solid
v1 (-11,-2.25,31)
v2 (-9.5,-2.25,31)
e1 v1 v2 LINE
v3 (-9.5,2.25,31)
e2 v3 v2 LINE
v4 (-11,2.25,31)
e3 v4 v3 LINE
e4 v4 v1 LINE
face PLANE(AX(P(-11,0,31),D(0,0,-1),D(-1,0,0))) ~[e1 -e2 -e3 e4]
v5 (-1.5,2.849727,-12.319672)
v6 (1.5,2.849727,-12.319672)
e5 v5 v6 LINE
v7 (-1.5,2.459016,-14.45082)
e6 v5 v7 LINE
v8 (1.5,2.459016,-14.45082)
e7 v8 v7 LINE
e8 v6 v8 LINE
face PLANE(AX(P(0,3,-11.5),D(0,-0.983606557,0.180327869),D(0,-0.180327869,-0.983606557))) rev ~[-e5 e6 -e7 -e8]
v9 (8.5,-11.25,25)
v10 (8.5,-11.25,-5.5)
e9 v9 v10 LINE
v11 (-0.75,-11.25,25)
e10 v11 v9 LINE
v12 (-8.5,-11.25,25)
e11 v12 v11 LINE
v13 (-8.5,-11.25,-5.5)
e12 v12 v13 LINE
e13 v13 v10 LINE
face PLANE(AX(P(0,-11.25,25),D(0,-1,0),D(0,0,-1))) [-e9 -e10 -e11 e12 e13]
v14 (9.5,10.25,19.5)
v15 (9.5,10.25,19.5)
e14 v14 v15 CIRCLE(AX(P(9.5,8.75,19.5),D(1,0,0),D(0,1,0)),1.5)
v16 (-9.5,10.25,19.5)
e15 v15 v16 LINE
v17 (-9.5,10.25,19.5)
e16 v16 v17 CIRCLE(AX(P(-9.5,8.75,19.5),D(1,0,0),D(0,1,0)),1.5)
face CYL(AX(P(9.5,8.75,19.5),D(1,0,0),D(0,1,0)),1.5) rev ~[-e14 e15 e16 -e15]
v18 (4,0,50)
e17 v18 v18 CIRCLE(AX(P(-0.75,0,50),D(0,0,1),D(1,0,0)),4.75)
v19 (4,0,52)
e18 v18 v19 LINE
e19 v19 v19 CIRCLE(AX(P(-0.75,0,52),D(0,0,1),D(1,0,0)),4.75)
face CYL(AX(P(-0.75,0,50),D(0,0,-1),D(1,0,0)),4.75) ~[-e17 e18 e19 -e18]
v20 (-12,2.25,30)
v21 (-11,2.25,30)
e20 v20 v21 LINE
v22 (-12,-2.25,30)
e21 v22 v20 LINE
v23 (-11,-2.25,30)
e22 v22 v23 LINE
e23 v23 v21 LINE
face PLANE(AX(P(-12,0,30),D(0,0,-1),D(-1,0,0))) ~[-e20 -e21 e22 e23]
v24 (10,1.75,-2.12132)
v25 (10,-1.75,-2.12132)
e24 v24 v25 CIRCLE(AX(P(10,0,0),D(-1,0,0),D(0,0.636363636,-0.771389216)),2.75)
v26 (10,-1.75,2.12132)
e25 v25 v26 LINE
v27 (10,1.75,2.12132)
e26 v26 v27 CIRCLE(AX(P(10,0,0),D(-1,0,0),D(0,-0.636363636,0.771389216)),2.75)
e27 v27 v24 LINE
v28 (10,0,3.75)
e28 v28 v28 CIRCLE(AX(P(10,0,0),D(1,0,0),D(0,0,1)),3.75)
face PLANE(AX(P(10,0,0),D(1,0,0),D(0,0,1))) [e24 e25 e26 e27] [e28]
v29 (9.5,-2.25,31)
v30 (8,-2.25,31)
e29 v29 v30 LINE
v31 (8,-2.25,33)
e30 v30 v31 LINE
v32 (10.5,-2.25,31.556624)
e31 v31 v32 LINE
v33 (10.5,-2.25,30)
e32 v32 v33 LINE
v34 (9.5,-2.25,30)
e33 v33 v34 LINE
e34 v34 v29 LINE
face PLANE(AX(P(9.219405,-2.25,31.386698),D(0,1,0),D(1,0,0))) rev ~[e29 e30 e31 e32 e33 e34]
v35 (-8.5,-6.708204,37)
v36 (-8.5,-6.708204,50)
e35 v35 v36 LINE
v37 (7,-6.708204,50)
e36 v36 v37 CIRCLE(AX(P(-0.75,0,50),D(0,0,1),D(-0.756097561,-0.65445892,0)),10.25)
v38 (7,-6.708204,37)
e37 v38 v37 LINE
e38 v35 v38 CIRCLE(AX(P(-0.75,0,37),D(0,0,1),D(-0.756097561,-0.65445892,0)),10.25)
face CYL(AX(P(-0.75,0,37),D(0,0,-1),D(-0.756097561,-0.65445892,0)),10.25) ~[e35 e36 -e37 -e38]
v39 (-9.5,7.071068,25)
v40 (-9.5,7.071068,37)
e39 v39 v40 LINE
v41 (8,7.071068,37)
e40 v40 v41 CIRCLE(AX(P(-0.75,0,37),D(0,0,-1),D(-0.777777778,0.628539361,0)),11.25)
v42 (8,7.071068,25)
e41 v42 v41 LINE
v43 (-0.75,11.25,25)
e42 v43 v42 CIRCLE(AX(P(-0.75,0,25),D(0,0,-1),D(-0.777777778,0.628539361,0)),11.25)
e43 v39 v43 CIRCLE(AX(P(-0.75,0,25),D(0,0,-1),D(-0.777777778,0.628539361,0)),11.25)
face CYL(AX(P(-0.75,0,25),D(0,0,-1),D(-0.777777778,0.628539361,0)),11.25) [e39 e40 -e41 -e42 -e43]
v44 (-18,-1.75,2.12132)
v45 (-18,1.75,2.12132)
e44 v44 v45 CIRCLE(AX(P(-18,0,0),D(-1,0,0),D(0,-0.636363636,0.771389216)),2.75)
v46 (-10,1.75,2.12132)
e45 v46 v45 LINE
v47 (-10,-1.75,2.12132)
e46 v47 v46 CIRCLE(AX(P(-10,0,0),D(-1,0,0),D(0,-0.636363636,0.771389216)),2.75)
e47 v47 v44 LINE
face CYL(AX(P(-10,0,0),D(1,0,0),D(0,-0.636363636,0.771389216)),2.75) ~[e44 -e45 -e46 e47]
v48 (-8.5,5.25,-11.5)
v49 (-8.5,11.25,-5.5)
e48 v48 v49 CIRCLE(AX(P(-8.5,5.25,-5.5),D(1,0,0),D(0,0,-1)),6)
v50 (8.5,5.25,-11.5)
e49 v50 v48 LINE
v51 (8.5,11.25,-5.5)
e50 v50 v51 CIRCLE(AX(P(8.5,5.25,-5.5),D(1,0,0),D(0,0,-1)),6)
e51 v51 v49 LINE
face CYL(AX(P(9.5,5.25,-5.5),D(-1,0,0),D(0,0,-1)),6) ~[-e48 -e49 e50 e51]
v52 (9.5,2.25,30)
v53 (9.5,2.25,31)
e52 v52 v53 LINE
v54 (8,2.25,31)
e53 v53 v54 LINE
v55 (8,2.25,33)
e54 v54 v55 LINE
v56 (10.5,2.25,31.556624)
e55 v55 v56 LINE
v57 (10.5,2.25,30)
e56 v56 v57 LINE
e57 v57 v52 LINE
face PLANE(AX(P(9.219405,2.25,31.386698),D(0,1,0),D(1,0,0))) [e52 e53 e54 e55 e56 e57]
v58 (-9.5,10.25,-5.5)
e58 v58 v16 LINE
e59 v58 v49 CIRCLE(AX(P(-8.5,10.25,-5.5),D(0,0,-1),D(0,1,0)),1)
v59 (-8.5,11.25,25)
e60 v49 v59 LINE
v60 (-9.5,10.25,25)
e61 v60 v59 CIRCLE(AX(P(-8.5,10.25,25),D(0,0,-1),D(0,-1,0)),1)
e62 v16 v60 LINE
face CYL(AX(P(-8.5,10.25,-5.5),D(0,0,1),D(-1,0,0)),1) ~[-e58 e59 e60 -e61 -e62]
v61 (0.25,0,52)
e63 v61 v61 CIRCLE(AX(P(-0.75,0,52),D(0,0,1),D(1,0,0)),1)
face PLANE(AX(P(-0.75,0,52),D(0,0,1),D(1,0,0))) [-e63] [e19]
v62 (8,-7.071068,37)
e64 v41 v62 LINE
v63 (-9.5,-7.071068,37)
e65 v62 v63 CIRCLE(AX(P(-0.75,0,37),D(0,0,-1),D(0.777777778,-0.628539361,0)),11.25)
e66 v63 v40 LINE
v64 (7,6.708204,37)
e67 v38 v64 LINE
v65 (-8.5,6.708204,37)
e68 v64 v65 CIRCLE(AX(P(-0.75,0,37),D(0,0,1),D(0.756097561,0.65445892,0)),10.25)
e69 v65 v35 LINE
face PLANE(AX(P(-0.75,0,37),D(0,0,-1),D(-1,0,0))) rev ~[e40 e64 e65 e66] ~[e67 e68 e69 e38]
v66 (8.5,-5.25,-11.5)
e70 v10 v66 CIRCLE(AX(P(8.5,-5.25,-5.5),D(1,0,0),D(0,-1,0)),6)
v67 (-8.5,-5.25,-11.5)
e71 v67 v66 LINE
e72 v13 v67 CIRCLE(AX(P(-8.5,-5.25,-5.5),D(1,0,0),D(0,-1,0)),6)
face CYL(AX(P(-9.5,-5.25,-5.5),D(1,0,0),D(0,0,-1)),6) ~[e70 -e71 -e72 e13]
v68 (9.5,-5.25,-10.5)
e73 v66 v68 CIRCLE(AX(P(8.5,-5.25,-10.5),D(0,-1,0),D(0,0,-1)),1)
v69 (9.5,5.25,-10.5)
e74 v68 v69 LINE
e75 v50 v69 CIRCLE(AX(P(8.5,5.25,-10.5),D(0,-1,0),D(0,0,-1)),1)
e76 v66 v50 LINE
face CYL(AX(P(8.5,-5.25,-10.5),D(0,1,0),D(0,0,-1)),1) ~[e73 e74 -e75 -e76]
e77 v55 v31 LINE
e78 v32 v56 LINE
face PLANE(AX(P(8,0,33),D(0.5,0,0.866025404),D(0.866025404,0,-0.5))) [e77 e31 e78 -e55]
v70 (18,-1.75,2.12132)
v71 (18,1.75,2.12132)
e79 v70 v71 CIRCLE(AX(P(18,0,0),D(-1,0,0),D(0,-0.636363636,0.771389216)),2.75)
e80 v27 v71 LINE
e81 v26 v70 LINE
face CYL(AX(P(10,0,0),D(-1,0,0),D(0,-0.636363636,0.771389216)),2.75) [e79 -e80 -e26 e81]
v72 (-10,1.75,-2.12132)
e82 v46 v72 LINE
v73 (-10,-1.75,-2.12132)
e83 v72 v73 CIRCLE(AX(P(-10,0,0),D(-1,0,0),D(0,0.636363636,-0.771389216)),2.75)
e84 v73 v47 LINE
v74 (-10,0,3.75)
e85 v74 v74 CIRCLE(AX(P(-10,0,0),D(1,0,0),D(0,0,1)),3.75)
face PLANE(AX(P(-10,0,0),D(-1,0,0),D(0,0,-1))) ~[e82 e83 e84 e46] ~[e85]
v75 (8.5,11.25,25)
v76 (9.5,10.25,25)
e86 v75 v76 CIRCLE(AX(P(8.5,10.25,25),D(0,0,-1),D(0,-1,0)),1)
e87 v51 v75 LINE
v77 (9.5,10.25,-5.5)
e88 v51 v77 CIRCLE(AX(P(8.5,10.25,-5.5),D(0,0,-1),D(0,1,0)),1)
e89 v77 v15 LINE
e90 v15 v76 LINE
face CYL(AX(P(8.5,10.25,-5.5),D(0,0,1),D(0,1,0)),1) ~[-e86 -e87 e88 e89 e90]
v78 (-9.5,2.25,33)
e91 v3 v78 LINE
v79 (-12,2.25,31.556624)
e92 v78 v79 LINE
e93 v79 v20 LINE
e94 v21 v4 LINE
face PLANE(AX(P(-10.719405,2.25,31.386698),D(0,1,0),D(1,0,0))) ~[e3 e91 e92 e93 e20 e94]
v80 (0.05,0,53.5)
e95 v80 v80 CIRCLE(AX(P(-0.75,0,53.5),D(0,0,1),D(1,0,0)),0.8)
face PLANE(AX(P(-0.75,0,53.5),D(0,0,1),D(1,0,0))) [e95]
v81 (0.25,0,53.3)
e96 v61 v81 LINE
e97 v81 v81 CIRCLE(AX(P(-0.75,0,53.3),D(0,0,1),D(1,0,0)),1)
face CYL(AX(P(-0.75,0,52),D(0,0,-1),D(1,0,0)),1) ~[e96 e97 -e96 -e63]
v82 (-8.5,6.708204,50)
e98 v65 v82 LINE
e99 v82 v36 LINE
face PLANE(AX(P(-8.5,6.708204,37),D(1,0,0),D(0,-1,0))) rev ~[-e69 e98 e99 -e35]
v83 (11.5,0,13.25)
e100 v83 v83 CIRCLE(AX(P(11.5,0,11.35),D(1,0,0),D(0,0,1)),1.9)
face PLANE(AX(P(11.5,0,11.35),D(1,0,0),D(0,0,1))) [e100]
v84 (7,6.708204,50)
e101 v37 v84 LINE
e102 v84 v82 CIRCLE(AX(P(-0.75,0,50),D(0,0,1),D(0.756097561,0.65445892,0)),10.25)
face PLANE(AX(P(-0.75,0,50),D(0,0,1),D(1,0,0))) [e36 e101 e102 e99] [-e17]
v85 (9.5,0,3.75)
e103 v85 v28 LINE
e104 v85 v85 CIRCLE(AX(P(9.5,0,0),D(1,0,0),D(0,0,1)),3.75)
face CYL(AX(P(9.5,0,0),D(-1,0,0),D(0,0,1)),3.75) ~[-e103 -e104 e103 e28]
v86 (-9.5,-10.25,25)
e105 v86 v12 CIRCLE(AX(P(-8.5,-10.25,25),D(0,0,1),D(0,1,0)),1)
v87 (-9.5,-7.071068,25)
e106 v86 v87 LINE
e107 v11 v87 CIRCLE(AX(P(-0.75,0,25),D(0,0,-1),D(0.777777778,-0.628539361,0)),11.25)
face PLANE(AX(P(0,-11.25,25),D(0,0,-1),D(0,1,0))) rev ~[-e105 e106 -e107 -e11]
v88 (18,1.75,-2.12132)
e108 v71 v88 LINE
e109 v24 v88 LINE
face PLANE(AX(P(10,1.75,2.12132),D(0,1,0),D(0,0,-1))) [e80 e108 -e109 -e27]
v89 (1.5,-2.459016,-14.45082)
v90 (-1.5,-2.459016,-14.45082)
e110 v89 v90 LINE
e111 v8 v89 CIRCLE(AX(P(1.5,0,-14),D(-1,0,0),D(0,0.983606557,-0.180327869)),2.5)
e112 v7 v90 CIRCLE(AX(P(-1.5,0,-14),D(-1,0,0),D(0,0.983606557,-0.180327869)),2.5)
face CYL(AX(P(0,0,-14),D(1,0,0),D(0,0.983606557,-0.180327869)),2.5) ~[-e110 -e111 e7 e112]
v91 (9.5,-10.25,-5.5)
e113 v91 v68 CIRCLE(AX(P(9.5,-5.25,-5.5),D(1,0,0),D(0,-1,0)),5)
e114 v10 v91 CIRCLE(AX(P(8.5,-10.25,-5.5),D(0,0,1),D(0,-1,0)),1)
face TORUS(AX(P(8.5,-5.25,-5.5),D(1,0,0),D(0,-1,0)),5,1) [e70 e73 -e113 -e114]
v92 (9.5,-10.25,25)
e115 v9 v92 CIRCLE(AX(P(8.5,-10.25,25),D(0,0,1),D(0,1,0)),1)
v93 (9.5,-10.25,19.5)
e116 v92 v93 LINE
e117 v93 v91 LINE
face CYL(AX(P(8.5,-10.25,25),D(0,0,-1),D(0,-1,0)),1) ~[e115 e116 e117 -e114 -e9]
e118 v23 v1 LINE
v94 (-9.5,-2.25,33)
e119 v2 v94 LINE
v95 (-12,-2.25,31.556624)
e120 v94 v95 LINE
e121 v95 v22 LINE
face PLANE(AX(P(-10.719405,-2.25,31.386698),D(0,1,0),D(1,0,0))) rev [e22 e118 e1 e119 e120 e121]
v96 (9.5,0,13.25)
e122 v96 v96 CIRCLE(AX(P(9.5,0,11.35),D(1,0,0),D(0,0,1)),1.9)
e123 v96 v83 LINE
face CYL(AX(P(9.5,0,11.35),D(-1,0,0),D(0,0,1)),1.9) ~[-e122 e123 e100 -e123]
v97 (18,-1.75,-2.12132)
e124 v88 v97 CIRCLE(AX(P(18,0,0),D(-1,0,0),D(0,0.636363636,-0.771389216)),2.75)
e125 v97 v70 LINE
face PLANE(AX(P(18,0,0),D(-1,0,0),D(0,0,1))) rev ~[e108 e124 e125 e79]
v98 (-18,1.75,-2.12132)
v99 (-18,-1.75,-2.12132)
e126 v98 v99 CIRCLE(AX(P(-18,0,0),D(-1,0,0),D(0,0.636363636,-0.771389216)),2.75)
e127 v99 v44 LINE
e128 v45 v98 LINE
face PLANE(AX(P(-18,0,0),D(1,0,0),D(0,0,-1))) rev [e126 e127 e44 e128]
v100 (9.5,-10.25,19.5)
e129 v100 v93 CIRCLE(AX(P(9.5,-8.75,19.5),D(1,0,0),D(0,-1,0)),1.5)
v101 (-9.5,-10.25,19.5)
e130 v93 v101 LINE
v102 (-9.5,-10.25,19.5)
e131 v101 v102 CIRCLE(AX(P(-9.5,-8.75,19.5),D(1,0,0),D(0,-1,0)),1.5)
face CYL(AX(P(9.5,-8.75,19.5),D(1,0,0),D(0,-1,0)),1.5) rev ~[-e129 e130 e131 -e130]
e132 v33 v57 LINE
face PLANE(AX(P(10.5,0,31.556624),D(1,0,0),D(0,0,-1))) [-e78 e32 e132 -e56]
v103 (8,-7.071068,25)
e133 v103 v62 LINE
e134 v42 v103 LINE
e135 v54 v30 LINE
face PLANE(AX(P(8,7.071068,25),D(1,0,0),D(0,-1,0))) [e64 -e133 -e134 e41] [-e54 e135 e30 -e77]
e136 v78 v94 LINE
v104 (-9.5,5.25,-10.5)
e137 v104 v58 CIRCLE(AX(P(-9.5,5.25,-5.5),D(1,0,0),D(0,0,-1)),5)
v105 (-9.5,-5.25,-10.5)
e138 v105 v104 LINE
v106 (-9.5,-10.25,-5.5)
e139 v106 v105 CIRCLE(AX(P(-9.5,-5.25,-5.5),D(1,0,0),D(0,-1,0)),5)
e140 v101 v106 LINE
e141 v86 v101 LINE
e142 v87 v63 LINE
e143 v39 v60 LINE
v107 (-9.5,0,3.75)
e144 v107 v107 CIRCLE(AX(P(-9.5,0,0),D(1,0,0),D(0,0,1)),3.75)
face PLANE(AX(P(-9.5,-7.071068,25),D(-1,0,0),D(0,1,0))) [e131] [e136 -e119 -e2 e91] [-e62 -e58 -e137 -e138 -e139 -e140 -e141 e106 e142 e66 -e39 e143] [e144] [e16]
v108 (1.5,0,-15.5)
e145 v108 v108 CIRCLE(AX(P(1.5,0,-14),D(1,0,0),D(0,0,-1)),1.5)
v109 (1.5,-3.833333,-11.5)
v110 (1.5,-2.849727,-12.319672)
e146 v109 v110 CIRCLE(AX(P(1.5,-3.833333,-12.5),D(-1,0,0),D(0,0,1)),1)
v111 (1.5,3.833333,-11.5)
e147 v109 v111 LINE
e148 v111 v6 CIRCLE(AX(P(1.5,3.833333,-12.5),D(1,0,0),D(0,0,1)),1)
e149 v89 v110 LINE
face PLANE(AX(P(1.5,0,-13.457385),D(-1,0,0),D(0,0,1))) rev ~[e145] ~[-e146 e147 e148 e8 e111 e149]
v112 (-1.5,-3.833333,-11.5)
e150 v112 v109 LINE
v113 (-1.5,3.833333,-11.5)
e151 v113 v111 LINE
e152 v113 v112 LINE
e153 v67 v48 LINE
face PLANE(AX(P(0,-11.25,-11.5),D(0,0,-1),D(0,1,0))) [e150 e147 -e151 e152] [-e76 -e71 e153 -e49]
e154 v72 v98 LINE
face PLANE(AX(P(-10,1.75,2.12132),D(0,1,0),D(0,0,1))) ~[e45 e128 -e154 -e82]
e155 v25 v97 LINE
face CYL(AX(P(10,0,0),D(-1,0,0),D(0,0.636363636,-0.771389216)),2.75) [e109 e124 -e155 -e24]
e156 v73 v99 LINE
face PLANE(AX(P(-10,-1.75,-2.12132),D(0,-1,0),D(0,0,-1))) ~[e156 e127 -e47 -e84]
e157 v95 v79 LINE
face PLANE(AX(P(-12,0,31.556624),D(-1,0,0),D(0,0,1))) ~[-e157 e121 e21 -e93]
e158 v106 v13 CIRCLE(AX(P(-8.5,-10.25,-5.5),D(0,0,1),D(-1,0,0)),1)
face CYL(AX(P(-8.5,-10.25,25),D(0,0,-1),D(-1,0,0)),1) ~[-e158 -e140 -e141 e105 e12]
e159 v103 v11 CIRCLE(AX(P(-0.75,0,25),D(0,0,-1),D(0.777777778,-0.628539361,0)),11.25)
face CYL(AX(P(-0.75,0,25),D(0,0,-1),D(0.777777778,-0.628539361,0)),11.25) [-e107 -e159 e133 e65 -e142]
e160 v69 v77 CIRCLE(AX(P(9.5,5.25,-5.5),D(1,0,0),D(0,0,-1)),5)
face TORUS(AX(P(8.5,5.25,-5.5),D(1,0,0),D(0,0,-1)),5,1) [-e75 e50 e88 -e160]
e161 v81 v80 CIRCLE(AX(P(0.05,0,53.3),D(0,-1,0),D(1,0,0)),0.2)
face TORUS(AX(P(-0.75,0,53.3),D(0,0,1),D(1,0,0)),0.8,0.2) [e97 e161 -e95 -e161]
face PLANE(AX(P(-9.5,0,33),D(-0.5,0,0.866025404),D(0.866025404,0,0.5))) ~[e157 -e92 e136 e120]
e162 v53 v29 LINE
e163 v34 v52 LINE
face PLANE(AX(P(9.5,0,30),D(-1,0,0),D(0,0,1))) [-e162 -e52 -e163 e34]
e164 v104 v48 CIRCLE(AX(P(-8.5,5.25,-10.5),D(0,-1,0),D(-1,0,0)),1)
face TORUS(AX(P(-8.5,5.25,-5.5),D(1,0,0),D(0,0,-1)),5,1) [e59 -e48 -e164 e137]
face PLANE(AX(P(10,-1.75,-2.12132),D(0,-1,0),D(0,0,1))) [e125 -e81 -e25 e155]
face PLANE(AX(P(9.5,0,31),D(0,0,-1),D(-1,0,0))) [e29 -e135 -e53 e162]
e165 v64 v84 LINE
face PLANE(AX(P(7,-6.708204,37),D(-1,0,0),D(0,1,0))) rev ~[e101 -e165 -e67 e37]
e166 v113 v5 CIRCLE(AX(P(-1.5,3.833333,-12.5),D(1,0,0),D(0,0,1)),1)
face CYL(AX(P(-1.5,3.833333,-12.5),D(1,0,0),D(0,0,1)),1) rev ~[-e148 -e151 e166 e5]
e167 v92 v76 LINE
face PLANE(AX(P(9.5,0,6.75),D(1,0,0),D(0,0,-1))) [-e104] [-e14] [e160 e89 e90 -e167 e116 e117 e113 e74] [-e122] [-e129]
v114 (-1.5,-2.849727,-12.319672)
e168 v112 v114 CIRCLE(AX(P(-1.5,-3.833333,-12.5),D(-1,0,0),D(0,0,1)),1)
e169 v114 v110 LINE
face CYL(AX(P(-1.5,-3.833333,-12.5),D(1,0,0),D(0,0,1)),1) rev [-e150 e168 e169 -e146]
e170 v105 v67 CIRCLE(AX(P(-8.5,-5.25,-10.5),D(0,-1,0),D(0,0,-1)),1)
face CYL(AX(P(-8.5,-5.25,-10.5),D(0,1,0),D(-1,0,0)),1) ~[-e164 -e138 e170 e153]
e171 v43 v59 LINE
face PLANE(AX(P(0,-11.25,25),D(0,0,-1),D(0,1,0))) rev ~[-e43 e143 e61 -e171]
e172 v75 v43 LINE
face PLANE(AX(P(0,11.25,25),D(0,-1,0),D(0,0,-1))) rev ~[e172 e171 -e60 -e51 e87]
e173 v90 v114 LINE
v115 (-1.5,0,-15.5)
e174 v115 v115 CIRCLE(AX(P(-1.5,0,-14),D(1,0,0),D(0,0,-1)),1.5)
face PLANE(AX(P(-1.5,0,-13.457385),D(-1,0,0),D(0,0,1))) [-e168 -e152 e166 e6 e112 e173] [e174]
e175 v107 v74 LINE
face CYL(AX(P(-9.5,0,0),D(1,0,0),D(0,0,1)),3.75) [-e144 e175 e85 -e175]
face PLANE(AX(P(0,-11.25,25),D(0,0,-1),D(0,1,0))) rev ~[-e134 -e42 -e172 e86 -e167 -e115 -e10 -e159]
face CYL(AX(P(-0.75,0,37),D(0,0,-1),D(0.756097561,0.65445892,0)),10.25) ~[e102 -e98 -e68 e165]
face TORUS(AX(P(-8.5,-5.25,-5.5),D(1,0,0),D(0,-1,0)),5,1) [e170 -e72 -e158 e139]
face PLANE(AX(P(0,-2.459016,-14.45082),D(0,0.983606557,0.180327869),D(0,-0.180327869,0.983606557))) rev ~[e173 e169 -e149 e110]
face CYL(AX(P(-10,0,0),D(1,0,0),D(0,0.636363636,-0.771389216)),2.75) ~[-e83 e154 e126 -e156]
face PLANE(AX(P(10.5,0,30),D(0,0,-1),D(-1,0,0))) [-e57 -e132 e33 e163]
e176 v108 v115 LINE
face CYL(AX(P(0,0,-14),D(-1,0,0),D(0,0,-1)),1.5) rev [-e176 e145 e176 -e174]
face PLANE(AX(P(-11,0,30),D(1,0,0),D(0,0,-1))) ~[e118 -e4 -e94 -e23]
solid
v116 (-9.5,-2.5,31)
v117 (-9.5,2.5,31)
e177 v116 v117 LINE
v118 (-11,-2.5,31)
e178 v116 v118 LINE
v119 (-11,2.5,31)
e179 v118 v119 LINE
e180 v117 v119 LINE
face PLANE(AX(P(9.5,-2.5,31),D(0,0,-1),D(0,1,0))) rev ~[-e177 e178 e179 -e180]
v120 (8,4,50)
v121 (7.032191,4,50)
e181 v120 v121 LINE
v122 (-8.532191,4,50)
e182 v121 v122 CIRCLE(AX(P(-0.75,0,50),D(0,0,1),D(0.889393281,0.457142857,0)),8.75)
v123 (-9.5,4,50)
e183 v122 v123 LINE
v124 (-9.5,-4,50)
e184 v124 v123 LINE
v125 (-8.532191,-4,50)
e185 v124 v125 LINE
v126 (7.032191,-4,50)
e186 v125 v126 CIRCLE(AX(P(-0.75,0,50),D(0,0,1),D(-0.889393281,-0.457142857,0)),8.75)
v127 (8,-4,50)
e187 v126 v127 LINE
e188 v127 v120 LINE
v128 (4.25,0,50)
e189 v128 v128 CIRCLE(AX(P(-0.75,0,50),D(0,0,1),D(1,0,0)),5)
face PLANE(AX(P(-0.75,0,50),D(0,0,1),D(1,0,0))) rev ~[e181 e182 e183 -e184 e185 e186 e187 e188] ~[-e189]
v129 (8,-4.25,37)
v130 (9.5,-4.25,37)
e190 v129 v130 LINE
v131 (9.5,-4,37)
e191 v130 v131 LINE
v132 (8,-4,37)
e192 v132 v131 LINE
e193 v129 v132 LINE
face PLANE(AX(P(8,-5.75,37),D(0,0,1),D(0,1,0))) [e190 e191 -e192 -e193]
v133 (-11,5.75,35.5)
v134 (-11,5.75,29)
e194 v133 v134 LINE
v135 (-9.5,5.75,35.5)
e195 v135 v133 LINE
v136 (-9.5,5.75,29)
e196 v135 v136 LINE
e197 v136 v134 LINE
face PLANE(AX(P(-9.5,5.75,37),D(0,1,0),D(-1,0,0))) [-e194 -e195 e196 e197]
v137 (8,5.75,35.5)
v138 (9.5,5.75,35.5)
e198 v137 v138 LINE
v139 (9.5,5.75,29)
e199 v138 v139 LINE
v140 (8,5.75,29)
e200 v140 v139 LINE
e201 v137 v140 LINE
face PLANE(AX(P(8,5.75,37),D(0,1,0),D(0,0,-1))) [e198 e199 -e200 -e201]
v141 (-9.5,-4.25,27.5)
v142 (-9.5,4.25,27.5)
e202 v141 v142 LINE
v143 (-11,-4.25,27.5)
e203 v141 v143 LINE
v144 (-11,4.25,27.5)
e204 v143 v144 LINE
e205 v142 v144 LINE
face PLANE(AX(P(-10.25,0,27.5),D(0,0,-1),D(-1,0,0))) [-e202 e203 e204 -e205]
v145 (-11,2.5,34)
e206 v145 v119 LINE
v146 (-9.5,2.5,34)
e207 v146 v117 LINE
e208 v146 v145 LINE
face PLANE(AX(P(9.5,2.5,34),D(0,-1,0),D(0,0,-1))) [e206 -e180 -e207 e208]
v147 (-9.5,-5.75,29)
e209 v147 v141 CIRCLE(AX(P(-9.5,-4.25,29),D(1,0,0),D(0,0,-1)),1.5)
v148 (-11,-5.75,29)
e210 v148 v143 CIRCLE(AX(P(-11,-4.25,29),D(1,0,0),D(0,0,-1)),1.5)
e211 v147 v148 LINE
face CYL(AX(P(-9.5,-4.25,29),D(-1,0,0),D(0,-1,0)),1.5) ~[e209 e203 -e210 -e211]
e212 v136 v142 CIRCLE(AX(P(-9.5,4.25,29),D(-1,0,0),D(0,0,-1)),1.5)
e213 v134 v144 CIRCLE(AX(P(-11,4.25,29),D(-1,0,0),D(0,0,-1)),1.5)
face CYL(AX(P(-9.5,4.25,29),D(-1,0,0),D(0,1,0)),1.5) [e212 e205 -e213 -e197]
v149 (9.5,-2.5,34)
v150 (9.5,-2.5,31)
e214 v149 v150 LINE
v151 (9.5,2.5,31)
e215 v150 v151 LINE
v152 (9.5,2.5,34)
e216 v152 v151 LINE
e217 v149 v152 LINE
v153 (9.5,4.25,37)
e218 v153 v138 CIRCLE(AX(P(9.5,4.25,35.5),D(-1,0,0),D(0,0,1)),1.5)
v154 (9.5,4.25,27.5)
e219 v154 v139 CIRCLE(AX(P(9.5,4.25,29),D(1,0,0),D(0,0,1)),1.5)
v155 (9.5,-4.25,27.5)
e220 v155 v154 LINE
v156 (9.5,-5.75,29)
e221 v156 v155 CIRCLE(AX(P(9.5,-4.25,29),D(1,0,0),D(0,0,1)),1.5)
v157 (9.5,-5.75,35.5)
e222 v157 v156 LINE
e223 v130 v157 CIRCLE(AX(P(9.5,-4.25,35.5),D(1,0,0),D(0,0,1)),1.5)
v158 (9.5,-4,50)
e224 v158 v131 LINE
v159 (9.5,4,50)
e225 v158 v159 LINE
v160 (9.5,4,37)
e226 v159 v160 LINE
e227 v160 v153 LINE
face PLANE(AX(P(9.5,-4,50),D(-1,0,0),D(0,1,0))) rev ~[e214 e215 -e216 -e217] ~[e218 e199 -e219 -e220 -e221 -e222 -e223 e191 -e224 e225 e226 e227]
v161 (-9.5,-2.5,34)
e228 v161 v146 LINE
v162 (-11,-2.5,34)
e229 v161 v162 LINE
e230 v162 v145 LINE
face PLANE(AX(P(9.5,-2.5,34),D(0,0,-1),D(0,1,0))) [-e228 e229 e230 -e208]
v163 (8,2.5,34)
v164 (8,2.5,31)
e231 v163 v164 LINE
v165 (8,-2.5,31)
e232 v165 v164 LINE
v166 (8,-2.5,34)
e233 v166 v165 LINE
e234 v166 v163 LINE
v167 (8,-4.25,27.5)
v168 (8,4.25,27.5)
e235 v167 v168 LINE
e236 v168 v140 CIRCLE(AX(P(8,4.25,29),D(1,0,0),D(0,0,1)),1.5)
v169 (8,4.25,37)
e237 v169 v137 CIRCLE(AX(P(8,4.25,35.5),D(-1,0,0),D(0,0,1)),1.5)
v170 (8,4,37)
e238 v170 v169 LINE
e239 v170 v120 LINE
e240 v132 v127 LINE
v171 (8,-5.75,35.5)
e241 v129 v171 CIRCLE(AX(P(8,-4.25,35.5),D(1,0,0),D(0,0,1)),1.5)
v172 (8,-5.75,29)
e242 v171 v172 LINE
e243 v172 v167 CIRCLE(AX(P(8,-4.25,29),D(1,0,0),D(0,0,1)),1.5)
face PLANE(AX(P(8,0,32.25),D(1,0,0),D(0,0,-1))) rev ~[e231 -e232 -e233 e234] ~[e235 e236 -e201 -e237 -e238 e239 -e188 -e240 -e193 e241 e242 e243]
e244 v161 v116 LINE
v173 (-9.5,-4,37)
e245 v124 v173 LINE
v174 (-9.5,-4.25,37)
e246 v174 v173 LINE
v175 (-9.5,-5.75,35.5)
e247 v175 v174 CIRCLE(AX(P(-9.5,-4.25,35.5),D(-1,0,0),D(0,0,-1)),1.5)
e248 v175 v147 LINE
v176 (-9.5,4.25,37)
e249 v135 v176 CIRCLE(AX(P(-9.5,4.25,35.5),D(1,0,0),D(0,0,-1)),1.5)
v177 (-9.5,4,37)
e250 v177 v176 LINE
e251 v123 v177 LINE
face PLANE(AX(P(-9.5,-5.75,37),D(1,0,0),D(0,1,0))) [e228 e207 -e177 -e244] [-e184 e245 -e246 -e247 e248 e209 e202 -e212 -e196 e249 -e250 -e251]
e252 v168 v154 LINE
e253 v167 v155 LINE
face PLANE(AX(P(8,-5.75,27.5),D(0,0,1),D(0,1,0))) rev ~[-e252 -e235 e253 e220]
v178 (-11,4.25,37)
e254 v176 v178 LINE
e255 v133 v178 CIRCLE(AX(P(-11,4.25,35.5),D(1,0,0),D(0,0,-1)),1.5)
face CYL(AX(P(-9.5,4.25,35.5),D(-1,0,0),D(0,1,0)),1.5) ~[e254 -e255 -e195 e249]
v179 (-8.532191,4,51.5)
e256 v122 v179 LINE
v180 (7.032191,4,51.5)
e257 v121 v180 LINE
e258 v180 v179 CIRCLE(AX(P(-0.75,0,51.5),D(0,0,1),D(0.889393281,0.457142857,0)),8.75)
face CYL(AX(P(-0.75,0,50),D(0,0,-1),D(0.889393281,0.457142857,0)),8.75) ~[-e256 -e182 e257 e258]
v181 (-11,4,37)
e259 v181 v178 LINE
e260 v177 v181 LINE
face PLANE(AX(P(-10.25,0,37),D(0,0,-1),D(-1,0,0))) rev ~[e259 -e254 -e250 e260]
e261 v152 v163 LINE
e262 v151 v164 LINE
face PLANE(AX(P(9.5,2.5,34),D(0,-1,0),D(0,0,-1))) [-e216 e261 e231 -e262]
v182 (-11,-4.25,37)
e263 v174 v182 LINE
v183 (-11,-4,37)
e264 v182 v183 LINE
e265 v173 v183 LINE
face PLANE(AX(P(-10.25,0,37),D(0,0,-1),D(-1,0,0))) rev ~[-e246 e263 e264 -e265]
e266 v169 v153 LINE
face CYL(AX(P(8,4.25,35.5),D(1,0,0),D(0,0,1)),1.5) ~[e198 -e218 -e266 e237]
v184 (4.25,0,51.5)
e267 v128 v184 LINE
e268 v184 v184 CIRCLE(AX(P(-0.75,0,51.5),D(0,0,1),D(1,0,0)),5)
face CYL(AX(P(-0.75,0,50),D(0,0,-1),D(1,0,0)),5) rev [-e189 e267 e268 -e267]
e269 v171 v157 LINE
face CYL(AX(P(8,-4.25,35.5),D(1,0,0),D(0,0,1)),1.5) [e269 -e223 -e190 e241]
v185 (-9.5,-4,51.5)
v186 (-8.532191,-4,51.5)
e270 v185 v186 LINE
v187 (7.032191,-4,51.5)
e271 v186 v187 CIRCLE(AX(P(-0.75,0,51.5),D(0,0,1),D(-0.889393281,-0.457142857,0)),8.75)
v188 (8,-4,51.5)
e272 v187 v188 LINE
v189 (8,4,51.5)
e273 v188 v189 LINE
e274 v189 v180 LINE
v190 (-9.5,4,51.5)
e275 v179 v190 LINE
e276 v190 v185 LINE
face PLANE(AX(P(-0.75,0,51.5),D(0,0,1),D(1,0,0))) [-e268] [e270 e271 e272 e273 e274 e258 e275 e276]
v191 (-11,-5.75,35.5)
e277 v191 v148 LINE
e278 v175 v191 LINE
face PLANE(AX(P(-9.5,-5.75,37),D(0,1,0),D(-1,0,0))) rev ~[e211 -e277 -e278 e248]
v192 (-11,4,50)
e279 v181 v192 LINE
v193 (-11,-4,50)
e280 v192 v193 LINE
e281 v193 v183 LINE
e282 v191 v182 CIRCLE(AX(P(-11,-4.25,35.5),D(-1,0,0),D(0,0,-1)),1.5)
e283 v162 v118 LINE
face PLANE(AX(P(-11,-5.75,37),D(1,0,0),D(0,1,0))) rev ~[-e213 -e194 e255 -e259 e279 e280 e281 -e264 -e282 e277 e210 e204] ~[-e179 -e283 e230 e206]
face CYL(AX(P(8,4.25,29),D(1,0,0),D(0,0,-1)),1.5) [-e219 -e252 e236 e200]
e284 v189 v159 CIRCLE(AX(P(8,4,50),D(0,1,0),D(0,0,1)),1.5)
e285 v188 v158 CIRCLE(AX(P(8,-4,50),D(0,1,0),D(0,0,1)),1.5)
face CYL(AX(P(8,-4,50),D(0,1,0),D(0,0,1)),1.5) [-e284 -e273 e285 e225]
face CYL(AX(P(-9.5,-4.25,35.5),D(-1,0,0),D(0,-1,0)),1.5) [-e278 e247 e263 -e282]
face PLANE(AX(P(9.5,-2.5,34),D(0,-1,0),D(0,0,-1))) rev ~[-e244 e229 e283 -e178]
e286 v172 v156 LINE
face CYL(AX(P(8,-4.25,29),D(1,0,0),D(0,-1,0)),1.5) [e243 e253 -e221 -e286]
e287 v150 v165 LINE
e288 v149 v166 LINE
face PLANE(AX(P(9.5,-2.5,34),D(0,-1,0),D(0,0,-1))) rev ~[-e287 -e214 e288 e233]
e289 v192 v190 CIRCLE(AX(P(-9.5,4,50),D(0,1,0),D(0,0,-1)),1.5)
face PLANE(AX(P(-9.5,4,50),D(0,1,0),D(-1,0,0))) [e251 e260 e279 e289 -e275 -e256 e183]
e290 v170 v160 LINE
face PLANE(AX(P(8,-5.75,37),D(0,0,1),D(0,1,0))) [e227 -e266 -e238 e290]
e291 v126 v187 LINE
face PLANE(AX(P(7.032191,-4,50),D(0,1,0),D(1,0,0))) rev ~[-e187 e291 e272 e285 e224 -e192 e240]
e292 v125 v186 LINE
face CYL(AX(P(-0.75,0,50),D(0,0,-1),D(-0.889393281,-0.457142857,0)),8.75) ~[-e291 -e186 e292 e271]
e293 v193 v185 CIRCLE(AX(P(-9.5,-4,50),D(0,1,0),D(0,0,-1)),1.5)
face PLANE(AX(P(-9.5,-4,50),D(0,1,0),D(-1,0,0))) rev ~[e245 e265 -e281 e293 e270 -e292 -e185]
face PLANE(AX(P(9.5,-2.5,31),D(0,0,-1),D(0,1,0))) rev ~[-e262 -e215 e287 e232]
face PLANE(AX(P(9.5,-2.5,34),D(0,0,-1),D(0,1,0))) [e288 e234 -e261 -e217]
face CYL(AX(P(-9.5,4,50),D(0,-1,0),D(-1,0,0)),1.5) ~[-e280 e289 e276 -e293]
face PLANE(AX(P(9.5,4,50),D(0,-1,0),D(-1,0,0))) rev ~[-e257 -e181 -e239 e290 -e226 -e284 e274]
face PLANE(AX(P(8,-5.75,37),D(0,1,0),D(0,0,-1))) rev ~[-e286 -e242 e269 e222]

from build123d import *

# Parameters (mm, degrees)
ESBO_O1_W                 = 36.5
ESBO_O1_H                 = 22.5
RESSALTO_EXTRUS_O1_DEPTH  = 9.5
FILETE1_R                 = 6
RESSALTO_EXTRUS_O2_DEPTH  = 12
RESSALTO_EXTRUS_O3_DEPTH  = 13
ESBO_O4_R                 = 3.75
RESSALTO_EXTRUS_O4_DEPTH  = 0.5
ESBO_O5_W                 = 9.5
ESBO_O5_H                 = 11.5
RESSALTO_EXTRUS_O5_DEPTH  = 1.5
ESBO_O6_W                 = 1.5
ESBO_O6_H                 = 8
RESSALTO_EXTRUS_O6_DEPTH  = 13
ESBO_O8_R                 = 4.75
RESSALTO_EXTRUS_O7_DEPTH  = 2
ESBO_O7_R                 = 5
RESSALTO_EXTRUS_O8_DEPTH  = 1.5
ESBO_O10_W                = 1.5
ESBO_O10_H                = 8
RESSALTO_EXTRUS_O9_DEPTH  = 13
ESBO_O11_W                = 1.5
ESBO_O11_H                = 11.5
RESSALTO_EXTRUS_O10_DEPTH = 9.5
FILETE2_R                 = 1.5
ESBO_O12_W                = 3
ESBO_O12_H                = 5
CORTE_EXTRUS_O1_DEPTH     = 58.015896906
RESSALTO_EXTRUS_O11_DEPTH = 2.25
ESBO_O15_R                = 1
RESSALTO_EXTRUS_O12_DEPTH = 1.5
RESSALTO_EXTRUS_O13_DEPTH = 8
FILETE4_R                 = 1
ESBO_O17_R                = 1.5
CORTE_EXTRUS_O2_DEPTH     = 59.745744527
ESBO_O19_R                = 1.5
RESSALTO_EXTRUS_O14_DEPTH = 1.5
FILETE5_R                 = 1
FILETE6_R                 = 0.2
SKETCH3_R                 = 1.9
BOSS_EXTRUDE1_DEPTH       = 2


with BuildPart() as part:
    # Esboço1 → Ressalto-extrusão1 (new, symmetric)
    with BuildSketch(Plane(origin=(0, 0, 0), x_dir=(0, 0, -1), z_dir=(1, 0, 0))):
        with Locations((-6.75, 0)):
            Rectangle(ESBO_O1_W, ESBO_O1_H)
    extrude(amount=RESSALTO_EXTRUS_O1_DEPTH, both=True)

    # Filete1
    filete1_edges = [part.edges().sort_by_distance(p)[0] for p in [
        (0, -11.25, -11.5),
        (0, 11.25, -11.5),
    ]]
    fillet(filete1_edges, radius=FILETE1_R)

    # Esboço2 → Ressalto-extrusão2 (add)
    with BuildSketch(Plane.XY.offset(25)):
        with BuildLine():
            Line((8, 7.071067812), (8, -7.071067812))
            ThreePointArc((8, -7.071067812), (-0.75, -11.25), (-9.5, -7.071067812))
            Line((-9.5, -7.071067812), (-9.5, 7.071067812))
            ThreePointArc((-9.5, 7.071067812), (-0.75, 11.25), (8, 7.071067812))
        make_face()
    extrude(amount=RESSALTO_EXTRUS_O2_DEPTH)

    # Esboço3 → Ressalto-extrusão3 (add)
    with BuildSketch(Plane.XY.offset(37)):
        with BuildLine():
            Line((-8.5, 6.708203932), (-8.5, -6.708203932))
            ThreePointArc((-8.5, -6.708203932), (-0.75, -10.25), (7, -6.708203932))
            Line((7, -6.708203932), (7, 6.708203932))
            ThreePointArc((7, 6.708203932), (-0.75, 10.25), (-8.5, 6.708203932))
        make_face()
    extrude(amount=RESSALTO_EXTRUS_O3_DEPTH)

    # Esboço4 → Ressalto-extrusão4 (add)
    with BuildSketch(Plane(origin=(9.5, 0, 0), x_dir=(0, 0, -1), z_dir=(1, 0, 0))):
        with Locations(Location((0, 0, 0), (0, 0, 180))):
            Circle(ESBO_O4_R)
    ressalto_extrus_o4 = extrude(amount=RESSALTO_EXTRUS_O4_DEPTH)

    # Esboço8 → Ressalto-extrusão7 (add)
    with BuildSketch(Plane.XY.offset(50)):
        with Locations((-0.75, 0)):
            Circle(ESBO_O8_R)
    extrude(amount=RESSALTO_EXTRUS_O7_DEPTH)

    # Esboço14 → Ressalto-extrusão11 (add, symmetric)
    with BuildSketch(Plane(origin=(0, 0, 0), x_dir=(1, 0, 0), z_dir=(0, 1, 0))):
        Polygon((8, -33), (10.5, -31.556624327), (10.5, -30), (9.5, -30), (9.5, -31), (8, -31), align=None)
    ressalto_extrus_o11 = extrude(amount=RESSALTO_EXTRUS_O11_DEPTH, both=True)

    # Espelhar6: Ressalto-extrusão11 across plane
    add(ressalto_extrus_o11.mirror(Plane(origin=(-0.75, 8.75, 51.5), x_dir=(0, 0, 1), z_dir=(-1, 0, 0))))

    # Esboço15 → Ressalto-extrusão12 (add)
    with BuildSketch(Plane.XY.offset(52)):
        with Locations((-0.75, 0)):
            Circle(ESBO_O15_R)
    extrude(amount=RESSALTO_EXTRUS_O12_DEPTH)

    # Esboço16 → Ressalto-extrusão13 (add)
    with BuildSketch(Plane(origin=(10, 0, 0), x_dir=(0, 0, -1), z_dir=(1, 0, 0))):
        with BuildLine():
            Line((-2.121320344, 1.75), (2.121320344, 1.75))
            ThreePointArc((2.121320344, 1.75), (2.75, 0), (2.121320344, -1.75))
            Line((2.121320344, -1.75), (-2.121320344, -1.75))
            ThreePointArc((-2.121320344, -1.75), (-2.75, 0), (-2.121320344, 1.75))
        make_face()
    ressalto_extrus_o13 = extrude(amount=RESSALTO_EXTRUS_O13_DEPTH)

    # Filete4
    filete4_edges = [part.edges().sort_by_distance(p)[0] for p in [
        (-9.5, -11.25, 9.75),
        (-9.5, -9.492640687, -9.742640687),
        (-9.5, 0, -11.5),
        (-9.5, 9.492640687, -9.742640687),
        (9.5, -11.25, 9.75),
        (9.5, -9.492640687, -9.742640687),
        (9.5, 0, -11.5),
        (9.5, 9.492640687, -9.742640687),
        (-9.5, 11.25, 9.75),
        (9.5, 11.25, 9.75),
    ]]
    fillet(filete4_edges, radius=FILETE4_R)

    # Esboço17 → Corte-extrusão2 (cut, through all)
    with BuildSketch(Plane(origin=(9.5, 0, 0), x_dir=(0, 0, -1), z_dir=(1, 0, 0))):
        with Locations(Location((-19.5, 8.75, 0), (0, 0, 90))):
            Circle(ESBO_O17_R)
        with Locations(Location((-19.5, -8.75, 0), (0, 0, 270))):
            Circle(ESBO_O17_R)
    extrude(amount=-CORTE_EXTRUS_O2_DEPTH, mode=Mode.SUBTRACT)

    # Esboço19 → Ressalto-extrusão14 (add, symmetric)
    with BuildSketch(Plane(origin=(0, 0, 0), x_dir=(0, 0, -1), z_dir=(1, 0, 0))):
        with BuildLine():
            Line((11.5, 3), (14.450819672, 2.459016393))
            ThreePointArc((14.450819672, 2.459016393), (16.5, 0), (14.450819672, -2.459016393))
            Line((14.450819672, -2.459016393), (11.5, -3))
            Line((11.5, -3), (11.5, 3))
        make_face()
        with Locations((14, 0)):
            Circle(ESBO_O19_R, mode=Mode.SUBTRACT)
    extrude(amount=RESSALTO_EXTRUS_O14_DEPTH, both=True)

    # Filete5
    filete5_edges = [part.edges().sort_by_distance(p)[0] for p in [
        (0, 3, -11.5),
        (0, -3, -11.5),
    ]]
    fillet(filete5_edges, radius=FILETE5_R)

    # Filete6
    filete6_edges = [part.edges().sort_by_distance(p)[0] for p in [
        (-1.75, 0, 53.5),
    ]]
    fillet(filete6_edges, radius=FILETE6_R)

    # Sketch3 → Boss-Extrude1 (add)
    with BuildSketch(Plane(origin=(9.5, 0, 0), x_dir=(0, 0, -1), z_dir=(1, 0, 0))):
        with Locations(Location((-11.35, 0, 0), (0, 0, 180))):
            Circle(SKETCH3_R)
    extrude(amount=BOSS_EXTRUDE1_DEPTH)

    # Mirror1: Ressalto-extrusão4, Ressalto-extrusão13 across plane
    add(ressalto_extrus_o4.mirror(Plane(origin=(0, 0, 0), x_dir=(0, 0, 1), z_dir=(1, 0, 0))))
    add(ressalto_extrus_o13.mirror(Plane(origin=(0, 0, 0), x_dir=(0, 0, 1), z_dir=(1, 0, 0))))


with BuildPart() as body_2:
    # Esboço5 → Ressalto-extrusão5 (new body)
    with BuildSketch(Plane(origin=(8, 0, 0), x_dir=(0, 0, -1), z_dir=(1, 0, 0))):
        with Locations((-32.25, 0)):
            Rectangle(ESBO_O5_W, ESBO_O5_H)
    extrude(amount=RESSALTO_EXTRUS_O5_DEPTH)

    # Esboço6 → Ressalto-extrusão6 (add)
    with BuildSketch(Plane.XY.offset(37)):
        with Locations((8.75, 0)):
            Rectangle(ESBO_O6_W, ESBO_O6_H)
    extrude(amount=RESSALTO_EXTRUS_O6_DEPTH)

    # Esboço7 → Ressalto-extrusão8 (add)
    with BuildSketch(Plane.XY.offset(50)):
        with BuildLine():
            Line((9.5, 4), (7.032191208, 4))
            ThreePointArc((7.032191208, 4), (-0.75, 8.75), (-8.532191208, 4))
            Line((-8.532191208, 4), (-11, 4))
            Line((-11, 4), (-11, -4))
            Line((-11, -4), (-8.532191208, -4))
            ThreePointArc((-8.532191208, -4), (-0.75, -8.75), (7.032191208, -4))
            Line((7.032191208, -4), (9.5, -4))
            Line((9.5, -4), (9.5, 4))
        make_face()
        with Locations((-0.75, 0)):
            Circle(ESBO_O7_R, mode=Mode.SUBTRACT)
    extrude(amount=RESSALTO_EXTRUS_O8_DEPTH)

    # Esboço10 → Ressalto-extrusão9 (add)
    with BuildSketch(Plane(origin=(0, 0, 50), x_dir=(-1, 0, 0), z_dir=(0, 0, -1))):
        with Locations((10.25, 0)):
            Rectangle(ESBO_O10_W, ESBO_O10_H)
    extrude(amount=RESSALTO_EXTRUS_O9_DEPTH)

    # Esboço11 → Ressalto-extrusão10 (add)
    with BuildSketch(Plane(origin=(0, 0, 37), x_dir=(-1, 0, 0), z_dir=(0, 0, -1))):
        with Locations((10.25, 0)):
            Rectangle(ESBO_O11_W, ESBO_O11_H)
    extrude(amount=RESSALTO_EXTRUS_O10_DEPTH)

    # Filete2
    filete2_edges = [body_2.edges().sort_by_distance(p)[0] for p in [
        (8.75, -5.75, 37),
        (8.75, -5.75, 27.5),
        (8.75, 5.75, 27.5),
        (8.75, 5.75, 37),
        (9.5, 0, 51.5),
        (-11, 0, 51.5),
        (-10.25, -5.75, 27.5),
        (-10.25, -5.75, 37),
        (-10.25, 5.75, 37),
        (-10.25, 5.75, 27.5),
    ]]
    fillet(filete2_edges, radius=FILETE2_R)

    # Esboço12 → Corte-extrusão1 (cut, through all)
    with BuildSketch(Plane(origin=(9.5, 0, 0), x_dir=(0, 0, -1), z_dir=(1, 0, 0))):
        with Locations((-32.5, 0)):
            Rectangle(ESBO_O12_W, ESBO_O12_H)
    extrude(amount=-CORTE_EXTRUS_O1_DEPTH, mode=Mode.SUBTRACT)


solid = Compound([part.part, body_2.part])
